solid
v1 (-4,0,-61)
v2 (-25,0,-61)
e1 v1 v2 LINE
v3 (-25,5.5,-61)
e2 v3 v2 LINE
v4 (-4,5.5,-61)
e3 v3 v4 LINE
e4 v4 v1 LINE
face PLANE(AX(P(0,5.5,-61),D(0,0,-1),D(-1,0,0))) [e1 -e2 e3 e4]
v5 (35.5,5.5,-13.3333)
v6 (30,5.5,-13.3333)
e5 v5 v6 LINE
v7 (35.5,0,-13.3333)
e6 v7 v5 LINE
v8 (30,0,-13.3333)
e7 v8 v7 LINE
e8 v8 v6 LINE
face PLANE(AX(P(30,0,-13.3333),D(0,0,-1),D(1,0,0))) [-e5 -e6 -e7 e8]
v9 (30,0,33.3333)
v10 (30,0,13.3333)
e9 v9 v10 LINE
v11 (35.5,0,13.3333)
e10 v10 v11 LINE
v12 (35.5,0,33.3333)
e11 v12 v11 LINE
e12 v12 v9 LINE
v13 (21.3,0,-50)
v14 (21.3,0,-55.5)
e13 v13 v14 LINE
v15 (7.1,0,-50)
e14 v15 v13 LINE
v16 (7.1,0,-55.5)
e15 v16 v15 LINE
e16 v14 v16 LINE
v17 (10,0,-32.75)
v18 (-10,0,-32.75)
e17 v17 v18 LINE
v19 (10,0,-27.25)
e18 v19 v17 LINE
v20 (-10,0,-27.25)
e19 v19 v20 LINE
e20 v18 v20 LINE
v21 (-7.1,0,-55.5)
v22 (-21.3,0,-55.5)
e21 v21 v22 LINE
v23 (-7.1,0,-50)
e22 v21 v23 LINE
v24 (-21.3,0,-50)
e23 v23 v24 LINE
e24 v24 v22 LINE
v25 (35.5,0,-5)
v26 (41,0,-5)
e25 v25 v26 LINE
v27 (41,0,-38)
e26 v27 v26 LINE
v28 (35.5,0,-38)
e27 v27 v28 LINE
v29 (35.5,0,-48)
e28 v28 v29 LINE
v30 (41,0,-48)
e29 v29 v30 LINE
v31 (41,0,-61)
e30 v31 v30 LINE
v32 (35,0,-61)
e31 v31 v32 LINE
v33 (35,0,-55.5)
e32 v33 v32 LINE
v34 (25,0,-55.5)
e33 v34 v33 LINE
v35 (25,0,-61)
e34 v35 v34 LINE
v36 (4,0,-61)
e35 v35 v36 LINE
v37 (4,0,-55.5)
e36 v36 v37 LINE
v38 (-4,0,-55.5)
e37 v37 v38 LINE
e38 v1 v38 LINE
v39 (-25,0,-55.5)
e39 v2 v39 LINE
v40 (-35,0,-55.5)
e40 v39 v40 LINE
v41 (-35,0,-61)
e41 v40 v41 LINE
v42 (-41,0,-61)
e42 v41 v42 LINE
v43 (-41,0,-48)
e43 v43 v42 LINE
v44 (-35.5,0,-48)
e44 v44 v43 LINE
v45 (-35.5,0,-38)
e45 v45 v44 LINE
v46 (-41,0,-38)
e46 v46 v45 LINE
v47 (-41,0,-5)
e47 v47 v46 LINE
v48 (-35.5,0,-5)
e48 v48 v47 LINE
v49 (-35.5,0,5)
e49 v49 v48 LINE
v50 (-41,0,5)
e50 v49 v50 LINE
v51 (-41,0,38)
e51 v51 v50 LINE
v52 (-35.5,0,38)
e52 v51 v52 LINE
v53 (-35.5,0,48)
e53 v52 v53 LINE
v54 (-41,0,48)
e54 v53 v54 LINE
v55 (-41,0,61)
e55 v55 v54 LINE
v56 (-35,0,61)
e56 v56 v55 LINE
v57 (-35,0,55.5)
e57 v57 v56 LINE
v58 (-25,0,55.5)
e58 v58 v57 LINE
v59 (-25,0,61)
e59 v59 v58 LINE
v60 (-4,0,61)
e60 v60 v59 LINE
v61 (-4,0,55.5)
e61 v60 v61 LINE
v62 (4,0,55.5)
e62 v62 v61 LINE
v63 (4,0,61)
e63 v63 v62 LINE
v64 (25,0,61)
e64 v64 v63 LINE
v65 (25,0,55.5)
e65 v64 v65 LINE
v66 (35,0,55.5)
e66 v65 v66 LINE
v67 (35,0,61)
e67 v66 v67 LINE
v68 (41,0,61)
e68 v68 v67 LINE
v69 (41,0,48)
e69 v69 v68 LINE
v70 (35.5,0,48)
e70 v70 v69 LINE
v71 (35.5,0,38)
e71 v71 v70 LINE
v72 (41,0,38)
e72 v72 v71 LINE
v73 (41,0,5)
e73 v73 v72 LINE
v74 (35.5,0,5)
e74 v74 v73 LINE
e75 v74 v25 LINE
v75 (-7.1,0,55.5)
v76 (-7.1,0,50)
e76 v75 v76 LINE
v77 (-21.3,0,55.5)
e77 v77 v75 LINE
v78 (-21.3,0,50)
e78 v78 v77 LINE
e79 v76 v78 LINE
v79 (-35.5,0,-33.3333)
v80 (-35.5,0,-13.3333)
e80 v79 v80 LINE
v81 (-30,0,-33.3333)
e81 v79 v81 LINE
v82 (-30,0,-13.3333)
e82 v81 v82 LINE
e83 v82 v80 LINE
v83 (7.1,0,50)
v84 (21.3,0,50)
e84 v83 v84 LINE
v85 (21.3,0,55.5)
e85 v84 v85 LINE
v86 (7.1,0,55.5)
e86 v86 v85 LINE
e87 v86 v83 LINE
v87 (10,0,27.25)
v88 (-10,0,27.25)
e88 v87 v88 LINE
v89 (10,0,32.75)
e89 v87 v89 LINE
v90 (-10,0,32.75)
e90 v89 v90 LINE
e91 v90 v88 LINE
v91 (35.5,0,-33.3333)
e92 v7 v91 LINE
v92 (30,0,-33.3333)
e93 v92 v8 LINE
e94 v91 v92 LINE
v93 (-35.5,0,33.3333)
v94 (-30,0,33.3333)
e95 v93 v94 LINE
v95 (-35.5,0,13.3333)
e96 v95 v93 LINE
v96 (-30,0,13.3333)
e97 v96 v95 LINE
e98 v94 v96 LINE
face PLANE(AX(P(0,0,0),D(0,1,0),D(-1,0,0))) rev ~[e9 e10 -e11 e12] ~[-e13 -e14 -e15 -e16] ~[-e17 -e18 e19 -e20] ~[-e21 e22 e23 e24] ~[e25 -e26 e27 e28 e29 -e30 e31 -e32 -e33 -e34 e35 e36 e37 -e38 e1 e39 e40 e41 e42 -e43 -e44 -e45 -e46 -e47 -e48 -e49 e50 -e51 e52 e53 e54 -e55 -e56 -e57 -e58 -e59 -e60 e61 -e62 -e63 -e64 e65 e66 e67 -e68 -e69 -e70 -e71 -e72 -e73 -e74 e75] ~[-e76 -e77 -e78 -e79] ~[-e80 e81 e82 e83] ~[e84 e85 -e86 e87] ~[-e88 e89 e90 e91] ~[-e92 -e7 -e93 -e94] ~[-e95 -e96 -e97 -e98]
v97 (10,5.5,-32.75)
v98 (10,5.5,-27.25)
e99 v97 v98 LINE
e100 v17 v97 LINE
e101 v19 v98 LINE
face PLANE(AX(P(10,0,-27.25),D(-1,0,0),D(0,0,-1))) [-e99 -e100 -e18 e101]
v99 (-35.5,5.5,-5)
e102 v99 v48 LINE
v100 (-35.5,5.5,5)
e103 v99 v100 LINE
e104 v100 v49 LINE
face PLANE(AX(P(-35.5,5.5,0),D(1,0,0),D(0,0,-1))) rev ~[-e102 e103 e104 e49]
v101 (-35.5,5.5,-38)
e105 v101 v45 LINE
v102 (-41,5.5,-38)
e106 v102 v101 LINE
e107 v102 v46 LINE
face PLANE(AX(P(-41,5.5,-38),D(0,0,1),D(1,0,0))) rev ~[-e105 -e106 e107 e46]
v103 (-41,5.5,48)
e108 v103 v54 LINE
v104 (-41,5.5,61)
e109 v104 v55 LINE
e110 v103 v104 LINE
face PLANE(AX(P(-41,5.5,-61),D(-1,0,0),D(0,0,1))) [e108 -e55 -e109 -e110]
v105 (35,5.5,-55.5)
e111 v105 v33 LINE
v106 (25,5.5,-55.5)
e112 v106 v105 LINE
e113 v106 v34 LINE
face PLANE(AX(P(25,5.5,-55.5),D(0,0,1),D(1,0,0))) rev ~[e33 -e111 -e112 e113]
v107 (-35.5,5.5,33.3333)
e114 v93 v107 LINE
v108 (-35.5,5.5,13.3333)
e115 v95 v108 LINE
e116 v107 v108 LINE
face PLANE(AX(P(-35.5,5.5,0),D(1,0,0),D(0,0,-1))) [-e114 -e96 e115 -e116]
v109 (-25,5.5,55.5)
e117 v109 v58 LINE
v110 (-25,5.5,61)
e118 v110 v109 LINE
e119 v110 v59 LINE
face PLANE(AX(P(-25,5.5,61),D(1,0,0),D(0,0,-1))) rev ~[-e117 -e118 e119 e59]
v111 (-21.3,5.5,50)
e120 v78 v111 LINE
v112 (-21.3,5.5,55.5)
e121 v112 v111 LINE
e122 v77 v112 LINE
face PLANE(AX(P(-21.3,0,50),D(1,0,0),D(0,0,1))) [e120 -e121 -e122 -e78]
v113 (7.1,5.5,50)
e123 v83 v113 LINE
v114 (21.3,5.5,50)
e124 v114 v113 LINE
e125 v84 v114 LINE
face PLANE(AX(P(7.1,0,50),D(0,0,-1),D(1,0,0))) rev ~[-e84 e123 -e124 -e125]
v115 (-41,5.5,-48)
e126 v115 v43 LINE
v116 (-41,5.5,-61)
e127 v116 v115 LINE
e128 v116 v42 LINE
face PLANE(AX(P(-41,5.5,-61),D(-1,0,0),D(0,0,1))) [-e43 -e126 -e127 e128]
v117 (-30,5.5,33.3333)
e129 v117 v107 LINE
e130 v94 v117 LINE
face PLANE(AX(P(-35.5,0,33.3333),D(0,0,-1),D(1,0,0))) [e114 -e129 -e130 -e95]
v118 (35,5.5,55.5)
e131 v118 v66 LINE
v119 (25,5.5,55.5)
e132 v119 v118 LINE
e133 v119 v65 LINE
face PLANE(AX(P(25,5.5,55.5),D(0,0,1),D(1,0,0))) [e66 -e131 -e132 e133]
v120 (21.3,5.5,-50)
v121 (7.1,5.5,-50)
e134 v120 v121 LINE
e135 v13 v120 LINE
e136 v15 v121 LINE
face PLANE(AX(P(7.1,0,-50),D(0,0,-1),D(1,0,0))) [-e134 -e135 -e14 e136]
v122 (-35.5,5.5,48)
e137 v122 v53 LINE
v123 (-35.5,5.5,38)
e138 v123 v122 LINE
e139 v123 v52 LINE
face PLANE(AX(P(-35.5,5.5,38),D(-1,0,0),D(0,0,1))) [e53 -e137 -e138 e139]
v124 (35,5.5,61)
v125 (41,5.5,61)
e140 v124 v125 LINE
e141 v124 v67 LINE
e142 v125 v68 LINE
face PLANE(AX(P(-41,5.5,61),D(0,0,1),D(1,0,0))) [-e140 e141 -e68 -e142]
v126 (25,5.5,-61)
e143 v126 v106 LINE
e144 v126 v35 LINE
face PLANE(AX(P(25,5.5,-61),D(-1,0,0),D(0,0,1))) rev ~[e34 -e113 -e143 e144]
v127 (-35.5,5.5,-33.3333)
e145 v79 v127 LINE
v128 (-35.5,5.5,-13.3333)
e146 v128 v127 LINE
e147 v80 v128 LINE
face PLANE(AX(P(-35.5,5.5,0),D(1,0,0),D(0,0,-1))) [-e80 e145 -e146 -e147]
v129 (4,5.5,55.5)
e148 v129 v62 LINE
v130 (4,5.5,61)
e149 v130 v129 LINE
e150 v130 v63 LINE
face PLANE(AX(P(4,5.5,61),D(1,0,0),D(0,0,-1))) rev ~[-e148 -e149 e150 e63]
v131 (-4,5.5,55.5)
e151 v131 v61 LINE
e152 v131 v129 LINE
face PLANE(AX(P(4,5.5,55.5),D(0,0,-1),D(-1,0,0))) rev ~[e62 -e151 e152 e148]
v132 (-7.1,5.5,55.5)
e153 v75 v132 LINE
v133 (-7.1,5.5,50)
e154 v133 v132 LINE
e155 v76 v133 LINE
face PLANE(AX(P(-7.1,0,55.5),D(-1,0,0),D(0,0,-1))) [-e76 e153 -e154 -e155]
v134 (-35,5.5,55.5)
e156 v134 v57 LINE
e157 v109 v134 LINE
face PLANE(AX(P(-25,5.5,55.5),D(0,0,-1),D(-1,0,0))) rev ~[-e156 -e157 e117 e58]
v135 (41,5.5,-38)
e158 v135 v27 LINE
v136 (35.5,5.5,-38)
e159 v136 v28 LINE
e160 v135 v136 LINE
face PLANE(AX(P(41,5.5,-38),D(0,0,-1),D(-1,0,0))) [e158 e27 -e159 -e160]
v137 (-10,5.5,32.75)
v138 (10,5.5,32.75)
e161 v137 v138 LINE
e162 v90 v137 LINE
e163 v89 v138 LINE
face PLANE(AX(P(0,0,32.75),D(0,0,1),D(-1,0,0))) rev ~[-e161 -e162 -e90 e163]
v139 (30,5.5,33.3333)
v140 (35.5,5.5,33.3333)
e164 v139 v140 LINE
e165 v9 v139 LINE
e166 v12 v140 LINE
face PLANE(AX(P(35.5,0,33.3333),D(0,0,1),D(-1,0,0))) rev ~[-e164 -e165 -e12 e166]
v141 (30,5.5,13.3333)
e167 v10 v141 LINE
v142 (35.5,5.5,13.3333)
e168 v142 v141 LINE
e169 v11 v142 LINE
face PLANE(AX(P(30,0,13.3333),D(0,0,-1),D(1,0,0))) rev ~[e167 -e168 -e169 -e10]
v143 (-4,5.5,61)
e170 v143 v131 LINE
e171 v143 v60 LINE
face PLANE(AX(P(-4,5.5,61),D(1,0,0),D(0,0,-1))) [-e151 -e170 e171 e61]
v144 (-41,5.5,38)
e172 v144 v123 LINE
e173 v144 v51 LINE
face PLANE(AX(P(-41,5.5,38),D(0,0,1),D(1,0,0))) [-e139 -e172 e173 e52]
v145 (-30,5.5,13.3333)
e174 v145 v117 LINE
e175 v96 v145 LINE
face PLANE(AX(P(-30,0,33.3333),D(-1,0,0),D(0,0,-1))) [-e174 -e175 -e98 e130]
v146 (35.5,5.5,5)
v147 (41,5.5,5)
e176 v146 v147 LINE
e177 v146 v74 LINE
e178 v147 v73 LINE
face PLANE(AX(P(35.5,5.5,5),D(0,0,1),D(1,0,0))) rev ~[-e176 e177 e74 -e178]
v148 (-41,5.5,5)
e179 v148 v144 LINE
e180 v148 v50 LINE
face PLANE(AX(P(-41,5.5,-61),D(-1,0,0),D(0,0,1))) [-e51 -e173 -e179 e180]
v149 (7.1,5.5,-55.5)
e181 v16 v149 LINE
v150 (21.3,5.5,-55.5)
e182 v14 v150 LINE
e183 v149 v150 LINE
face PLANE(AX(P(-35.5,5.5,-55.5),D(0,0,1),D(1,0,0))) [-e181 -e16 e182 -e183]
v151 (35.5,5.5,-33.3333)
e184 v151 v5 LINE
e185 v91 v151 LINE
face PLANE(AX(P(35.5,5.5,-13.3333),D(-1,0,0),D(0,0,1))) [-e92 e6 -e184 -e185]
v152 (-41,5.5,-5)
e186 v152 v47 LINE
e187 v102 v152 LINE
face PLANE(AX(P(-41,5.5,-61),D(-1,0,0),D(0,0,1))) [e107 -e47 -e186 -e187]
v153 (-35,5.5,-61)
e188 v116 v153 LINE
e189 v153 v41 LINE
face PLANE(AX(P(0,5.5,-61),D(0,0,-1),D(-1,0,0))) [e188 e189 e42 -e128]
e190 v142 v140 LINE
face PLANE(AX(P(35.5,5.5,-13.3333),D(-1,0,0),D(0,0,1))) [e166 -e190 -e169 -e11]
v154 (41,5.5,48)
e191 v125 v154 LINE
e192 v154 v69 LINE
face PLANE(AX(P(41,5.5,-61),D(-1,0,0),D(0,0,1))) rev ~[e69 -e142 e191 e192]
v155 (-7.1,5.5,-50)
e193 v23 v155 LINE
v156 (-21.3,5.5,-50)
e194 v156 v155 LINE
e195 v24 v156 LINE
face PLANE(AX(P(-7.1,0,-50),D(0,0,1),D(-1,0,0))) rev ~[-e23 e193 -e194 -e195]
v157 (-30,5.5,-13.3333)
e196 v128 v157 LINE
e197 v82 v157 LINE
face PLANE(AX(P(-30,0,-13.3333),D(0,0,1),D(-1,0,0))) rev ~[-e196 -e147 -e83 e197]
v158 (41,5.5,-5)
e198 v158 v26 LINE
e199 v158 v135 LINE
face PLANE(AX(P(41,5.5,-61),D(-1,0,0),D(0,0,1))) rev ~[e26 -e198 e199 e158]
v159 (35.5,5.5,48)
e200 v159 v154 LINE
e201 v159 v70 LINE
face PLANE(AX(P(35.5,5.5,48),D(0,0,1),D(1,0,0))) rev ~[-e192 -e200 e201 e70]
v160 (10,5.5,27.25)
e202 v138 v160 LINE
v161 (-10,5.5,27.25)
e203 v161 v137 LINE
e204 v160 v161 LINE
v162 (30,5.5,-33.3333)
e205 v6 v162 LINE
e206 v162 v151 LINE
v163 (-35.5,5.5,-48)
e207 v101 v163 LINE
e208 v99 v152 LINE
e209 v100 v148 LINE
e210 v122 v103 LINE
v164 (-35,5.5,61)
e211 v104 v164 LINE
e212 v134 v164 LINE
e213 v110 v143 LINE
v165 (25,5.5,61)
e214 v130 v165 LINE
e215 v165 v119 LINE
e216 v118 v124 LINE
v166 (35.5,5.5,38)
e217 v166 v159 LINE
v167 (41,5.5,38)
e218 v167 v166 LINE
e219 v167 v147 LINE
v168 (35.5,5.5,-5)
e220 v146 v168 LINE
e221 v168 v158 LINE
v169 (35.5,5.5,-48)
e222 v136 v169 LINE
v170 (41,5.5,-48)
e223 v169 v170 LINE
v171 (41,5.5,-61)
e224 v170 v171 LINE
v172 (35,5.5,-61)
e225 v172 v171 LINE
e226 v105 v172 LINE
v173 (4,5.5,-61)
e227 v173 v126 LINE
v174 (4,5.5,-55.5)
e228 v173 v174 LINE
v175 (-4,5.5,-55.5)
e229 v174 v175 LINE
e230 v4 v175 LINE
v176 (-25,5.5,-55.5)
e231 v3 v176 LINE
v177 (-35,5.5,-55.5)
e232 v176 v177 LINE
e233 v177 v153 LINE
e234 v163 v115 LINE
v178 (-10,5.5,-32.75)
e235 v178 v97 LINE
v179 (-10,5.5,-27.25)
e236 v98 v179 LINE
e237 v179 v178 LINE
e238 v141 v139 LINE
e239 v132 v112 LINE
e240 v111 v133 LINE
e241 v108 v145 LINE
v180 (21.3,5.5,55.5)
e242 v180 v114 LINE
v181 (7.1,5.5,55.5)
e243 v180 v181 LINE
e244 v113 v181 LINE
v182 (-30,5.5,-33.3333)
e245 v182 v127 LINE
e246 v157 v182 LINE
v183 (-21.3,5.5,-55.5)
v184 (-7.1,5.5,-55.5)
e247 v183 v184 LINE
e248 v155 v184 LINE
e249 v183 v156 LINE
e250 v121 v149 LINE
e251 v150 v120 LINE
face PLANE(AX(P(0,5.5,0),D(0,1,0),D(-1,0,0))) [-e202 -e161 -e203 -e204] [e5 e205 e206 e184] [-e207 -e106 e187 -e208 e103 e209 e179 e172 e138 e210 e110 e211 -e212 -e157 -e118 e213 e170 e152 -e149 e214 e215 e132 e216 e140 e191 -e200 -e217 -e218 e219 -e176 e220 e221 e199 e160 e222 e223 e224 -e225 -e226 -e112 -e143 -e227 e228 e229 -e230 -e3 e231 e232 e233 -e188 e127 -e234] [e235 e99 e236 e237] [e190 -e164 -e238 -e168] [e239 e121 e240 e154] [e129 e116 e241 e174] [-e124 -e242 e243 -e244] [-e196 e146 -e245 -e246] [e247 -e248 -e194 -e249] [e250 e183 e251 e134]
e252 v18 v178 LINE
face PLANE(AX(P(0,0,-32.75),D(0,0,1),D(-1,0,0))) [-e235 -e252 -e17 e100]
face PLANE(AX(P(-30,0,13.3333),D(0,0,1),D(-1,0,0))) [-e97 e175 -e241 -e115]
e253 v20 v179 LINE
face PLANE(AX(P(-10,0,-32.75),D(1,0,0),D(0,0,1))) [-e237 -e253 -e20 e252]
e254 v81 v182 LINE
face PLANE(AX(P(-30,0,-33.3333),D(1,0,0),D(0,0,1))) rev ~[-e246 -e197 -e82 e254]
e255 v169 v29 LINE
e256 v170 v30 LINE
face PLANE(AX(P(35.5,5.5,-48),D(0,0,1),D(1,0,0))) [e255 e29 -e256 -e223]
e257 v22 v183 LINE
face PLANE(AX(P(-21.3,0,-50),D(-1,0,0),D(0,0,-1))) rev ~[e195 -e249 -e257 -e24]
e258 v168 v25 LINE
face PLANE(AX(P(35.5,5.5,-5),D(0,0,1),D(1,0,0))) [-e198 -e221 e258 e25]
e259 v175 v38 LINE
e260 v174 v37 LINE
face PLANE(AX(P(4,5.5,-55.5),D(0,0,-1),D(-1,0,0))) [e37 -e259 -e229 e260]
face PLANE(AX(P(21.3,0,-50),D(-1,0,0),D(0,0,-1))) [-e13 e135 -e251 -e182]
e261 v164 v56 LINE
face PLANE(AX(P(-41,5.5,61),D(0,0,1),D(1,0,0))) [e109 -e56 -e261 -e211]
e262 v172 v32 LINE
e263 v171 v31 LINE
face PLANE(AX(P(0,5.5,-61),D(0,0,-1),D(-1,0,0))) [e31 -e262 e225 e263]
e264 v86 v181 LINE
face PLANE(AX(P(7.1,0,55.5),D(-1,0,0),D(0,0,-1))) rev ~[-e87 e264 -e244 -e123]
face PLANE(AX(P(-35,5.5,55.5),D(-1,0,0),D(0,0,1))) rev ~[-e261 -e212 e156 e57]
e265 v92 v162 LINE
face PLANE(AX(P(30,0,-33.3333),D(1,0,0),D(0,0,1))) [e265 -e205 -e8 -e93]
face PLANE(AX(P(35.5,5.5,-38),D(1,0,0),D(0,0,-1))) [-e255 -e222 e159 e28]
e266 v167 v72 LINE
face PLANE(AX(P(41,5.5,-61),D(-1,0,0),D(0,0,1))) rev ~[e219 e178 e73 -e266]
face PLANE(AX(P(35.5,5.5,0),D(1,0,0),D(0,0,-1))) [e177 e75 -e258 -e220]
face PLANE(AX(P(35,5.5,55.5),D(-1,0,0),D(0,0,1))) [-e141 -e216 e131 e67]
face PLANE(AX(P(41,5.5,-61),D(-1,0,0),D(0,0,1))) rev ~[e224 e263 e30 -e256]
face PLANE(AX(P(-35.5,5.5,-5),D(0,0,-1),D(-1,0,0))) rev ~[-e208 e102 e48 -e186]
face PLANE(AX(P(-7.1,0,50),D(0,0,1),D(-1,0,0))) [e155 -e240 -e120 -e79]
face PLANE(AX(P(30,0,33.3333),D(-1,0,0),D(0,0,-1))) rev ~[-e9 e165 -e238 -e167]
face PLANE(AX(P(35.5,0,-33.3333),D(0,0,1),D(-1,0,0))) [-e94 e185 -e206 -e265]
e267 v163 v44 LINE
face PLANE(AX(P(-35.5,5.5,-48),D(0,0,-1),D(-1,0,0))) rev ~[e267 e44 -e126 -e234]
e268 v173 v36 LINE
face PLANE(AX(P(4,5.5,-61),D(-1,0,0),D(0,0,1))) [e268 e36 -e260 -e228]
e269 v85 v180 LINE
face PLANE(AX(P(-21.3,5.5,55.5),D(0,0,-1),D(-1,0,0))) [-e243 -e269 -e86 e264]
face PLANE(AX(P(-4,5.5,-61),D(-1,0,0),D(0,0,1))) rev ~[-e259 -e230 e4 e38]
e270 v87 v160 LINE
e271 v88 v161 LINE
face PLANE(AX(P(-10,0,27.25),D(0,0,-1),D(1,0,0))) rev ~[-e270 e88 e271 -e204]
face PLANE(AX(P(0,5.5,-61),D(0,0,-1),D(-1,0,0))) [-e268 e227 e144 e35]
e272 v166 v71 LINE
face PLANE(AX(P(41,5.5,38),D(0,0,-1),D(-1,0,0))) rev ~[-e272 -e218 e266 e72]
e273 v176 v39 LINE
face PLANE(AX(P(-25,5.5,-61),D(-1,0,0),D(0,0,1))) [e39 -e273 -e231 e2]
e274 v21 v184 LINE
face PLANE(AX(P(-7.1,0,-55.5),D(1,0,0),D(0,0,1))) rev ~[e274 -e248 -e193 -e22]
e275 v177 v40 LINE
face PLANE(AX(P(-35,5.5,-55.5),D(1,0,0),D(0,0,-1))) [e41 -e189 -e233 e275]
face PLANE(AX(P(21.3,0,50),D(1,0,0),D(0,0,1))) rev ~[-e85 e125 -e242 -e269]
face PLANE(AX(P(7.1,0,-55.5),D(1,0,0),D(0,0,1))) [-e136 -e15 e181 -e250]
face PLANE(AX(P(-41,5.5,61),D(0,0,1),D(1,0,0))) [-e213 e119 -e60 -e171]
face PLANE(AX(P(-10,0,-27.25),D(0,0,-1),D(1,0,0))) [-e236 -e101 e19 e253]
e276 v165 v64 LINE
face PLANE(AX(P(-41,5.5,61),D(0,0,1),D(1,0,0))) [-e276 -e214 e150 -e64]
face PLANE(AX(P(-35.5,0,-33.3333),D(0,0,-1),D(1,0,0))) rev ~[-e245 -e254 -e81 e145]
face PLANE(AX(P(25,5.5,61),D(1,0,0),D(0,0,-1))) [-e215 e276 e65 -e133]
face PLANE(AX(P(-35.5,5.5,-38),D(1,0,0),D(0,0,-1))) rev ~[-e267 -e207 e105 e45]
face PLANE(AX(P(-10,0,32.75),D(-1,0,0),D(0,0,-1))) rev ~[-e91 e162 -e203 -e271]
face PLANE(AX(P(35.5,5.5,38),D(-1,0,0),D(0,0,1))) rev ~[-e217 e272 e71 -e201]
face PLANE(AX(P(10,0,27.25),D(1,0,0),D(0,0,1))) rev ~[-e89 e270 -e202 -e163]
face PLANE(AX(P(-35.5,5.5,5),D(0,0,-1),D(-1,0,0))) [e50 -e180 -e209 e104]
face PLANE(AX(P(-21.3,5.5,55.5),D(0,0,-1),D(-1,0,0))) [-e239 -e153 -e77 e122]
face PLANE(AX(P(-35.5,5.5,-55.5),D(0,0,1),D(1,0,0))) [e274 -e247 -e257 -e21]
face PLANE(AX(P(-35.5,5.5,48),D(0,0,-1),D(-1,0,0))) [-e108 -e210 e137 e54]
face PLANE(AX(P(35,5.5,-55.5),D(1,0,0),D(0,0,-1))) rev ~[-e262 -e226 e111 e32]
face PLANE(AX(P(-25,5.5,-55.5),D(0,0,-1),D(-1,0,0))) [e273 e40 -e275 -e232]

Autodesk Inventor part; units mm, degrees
ref_plane "YZ Plane" through (0, 0, 0) normal (1, 0, 0) x (0, 1, 0)
ref_plane "XZ Plane" through (0, 0, 0) normal (0, 1, 0) x (-1, 0, 0)
ref_plane "XY Plane" through (0, 0, 0) normal (0, 0, 1) x (1, 0, 0)
sketch "Block1" plane through (0, 0, 0) normal (0, 0, 1) x (1, 0, 0)
  line L0 (-50, 9) -> (-39, 9)
  line L1 (-39, 9) -> (-39, 4)
  line L2 (-39, 4) -> (-50, 4)
  line L3 (-50, 4) -> (-50, 9)
  line L4 (-39, -9) -> (-39, -4)
  line L5 (-50, -9) -> (-39, -9)
  line L6 (-50, -4) -> (-50, -9)
  line L7 (-39, -4) -> (-50, -4)
  line L8 (-39, 46) -> (-39, 41)
  line L9 (-50, 46) -> (-39, 46)
  line L10 (-50, 41) -> (-50, 46)
  line L11 (-39, 41) -> (-50, 41)
  line L12 (-39, -46) -> (-39, -41)
  line L13 (-50, -46) -> (-39, -46)
  line L14 (-50, -41) -> (-50, -46)
  line L15 (-39, -41) -> (-50, -41)
  point P0 (-44.5, 0)
  dimension "d59" = 11
  dimension "d60" = 5
  dimension "d62" = 11
  dimension "d63" = 5
sketch "Block2" plane through (0, 0, 0) normal (0, 0, 1) x (1, 0, 0)
  line L0 (-7.9, 59.1) -> (7.9, 59.1)
  line L1 (7.9, 59.1) -> (7.9, 50.1)
  line L2 (7.9, 50.1) -> (23.3, 50.1)
  line L3 (23.3, 50.1) -> (23.3, 59.1)
  line L4 (23.3, 59.1) -> (39.1, 59.1)
  line L5 (39.1, 59.1) -> (39.1, 50.1)
  line L6 (39.1, 50.1) -> (50.1, 50.1)
  line L7 (50.1, 50.1) -> (50.1, 41.9)
  line L8 (50.1, 41.9) -> (41.1, 41.9)
  line L9 (41.1, 41.9) -> (41.1, 36.1)
  line L10 (41.1, 36.1) -> (50.1, 36.1)
  line L11 (50.1, 36.1) -> (50.1, 12.9)
  line L12 (50.1, 12.9) -> (41.1, 12.9)
  line L13 (41.1, 12.9) -> (41.1, 7.1)
  line L14 (41.1, 7.1) -> (50.1, 7.1)
  line L15 (50.1, 7.1) -> (50.1, -7.1)
  line L16 (50.1, -7.1) -> (41.1, -7.1)
  line L17 (41.1, -7.1) -> (41.1, -12.9)
  line L18 (41.1, -12.9) -> (50.1, -12.9)
  line L19 (50.1, -12.9) -> (50.1, -36.1)
  line L20 (50.1, -36.1) -> (41.1, -36.1)
  line L21 (41.1, -36.1) -> (41.1, -41.9)
  line L22 (41.1, -41.9) -> (50.1, -41.9)
  line L23 (50.1, -41.9) -> (50.1, -50.1)
  line L24 (50.1, -50.1) -> (39.1, -50.1)
  line L25 (39.1, -50.1) -> (39.1, -59.1)
  line L26 (39.1, -59.1) -> (23.3, -59.1)
  line L27 (23.3, -59.1) -> (23.3, -50.1)
  line L28 (23.3, -50.1) -> (7.9, -50.1)
  line L29 (7.9, -50.1) -> (7.9, -59.1)
  line L30 (7.9, -59.1) -> (-7.9, -59.1)
  line L31 (-7.9, -59.1) -> (-7.9, -50.1)
  line L32 (-7.9, -50.1) -> (-23.3, -50.1)
  line L33 (-23.3, -50.1) -> (-23.3, -59.1)
  line L34 (-23.3, -59.1) -> (-39.1, -59.1)
  line L35 (-39.1, -59.1) -> (-39.1, -50.1)
  line L36 (-39.1, -50.1) -> (-50.1, -50.1)
  line L37 (-50.1, -50.1) -> (-50.1, -41.9)
  line L38 (-50.1, -41.9) -> (-41.1, -41.9)
  line L39 (-41.1, -41.9) -> (-41.1, -36.1)
  line L40 (-41.1, -36.1) -> (-50.1, -36.1)
  line L41 (-50.1, -36.1) -> (-50.1, -12.9)
  line L42 (-50.1, -12.9) -> (-41.1, -12.9)
  line L43 (-41.1, -12.9) -> (-41.1, -7.1)
  line L44 (-41.1, -7.1) -> (-50.1, -7.1)
  line L45 (-50.1, -7.1) -> (-50.1, 7.1)
  line L46 (-50.1, 7.1) -> (-41.1, 7.1)
  line L47 (-41.1, 7.1) -> (-41.1, 12.9)
  line L48 (-41.1, 12.9) -> (-50.1, 12.9)
  line L49 (-50.1, 12.9) -> (-50.1, 36.1)
  line L50 (-50.1, 36.1) -> (-41.1, 36.1)
  line L51 (-41.1, 36.1) -> (-41.1, 41.9)
  line L52 (-41.1, 41.9) -> (-50.1, 41.9)
  line L53 (-50.1, 41.9) -> (-50.1, 50.1)
  line L54 (-50.1, 50.1) -> (-39.1, 50.1)
  line L55 (-39.1, 50.1) -> (-39.1, 59.1)
  line L56 (-39.1, 59.1) -> (-23.3, 59.1)
  line L57 (-23.3, 59.1) -> (-23.3, 50.1)
  line L58 (-23.3, 50.1) -> (-7.9, 50.1)
  line L59 (-7.9, 50.1) -> (-7.9, 59.1)
  line L60 (-29.9, 33.4333) -> (-39.1, 33.4333)
  line L61 (-39.1, 33.4333) -> (-39.1, 13.2333)
  line L62 (-39.1, 13.2333) -> (-29.9, 13.2333)
  line L63 (-29.9, 13.2333) -> (-29.9, 33.4333)
  line L64 (-29.9, -13.2333) -> (-39.1, -13.2333)
  line L65 (-39.1, -13.2333) -> (-39.1, -33.4333)
  line L66 (-39.1, -33.4333) -> (-29.9, -33.4333)
  line L67 (-29.9, -33.4333) -> (-29.9, -13.2333)
  line L68 (39.1, 33.4333) -> (39.1, 13.2333)
  line L69 (39.1, 13.2333) -> (29.9, 13.2333)
  line L70 (29.9, 13.2333) -> (29.9, 33.4333)
  line L71 (29.9, 33.4333) -> (39.1, 33.4333)
  line L72 (39.1, -13.2333) -> (29.9, -13.2333)
  line L73 (29.9, -13.2333) -> (29.9, -33.4333)
  line L74 (29.9, -33.4333) -> (39.1, -33.4333)
  line L75 (39.1, -33.4333) -> (39.1, -13.2333)
  point P0 (0, 0)
sketch "Block3" plane through (0, 0, 0) normal (0, 0, 1) x (1, 0, 0)
  line L0 (23.2, 59.2) -> (39.2, 59.2)
  line L1 (39.2, 59.2) -> (39.2, 50.2)
  line L2 (39.2, 50.2) -> (50.2, 50.2)
  line L3 (50.2, 50.2) -> (50.2, 41.8)
  line L4 (50.2, 41.8) -> (41.2, 41.8)
  line L5 (41.2, 41.8) -> (41.2, 36.2)
  line L6 (41.2, 36.2) -> (50.2, 36.2)
  line L7 (50.2, 36.2) -> (50.2, 12.8)
  line L8 (50.2, 12.8) -> (41.2, 12.8)
  line L9 (41.2, 12.8) -> (41.2, 7.2)
  line L10 (41.2, 7.2) -> (50.2, 7.2)
  line L11 (50.2, 7.2) -> (50.2, -7.2)
  line L12 (50.2, -7.2) -> (41.2, -7.2)
  line L13 (41.2, -7.2) -> (41.2, -12.8)
  line L14 (41.2, -12.8) -> (50.2, -12.8)
  line L15 (50.2, -12.8) -> (50.2, -36.2)
  line L16 (50.2, -36.2) -> (41.2, -36.2)
  line L17 (41.2, -36.2) -> (41.2, -41.8)
  line L18 (41.2, -41.8) -> (50.2, -41.8)
  line L19 (50.2, -41.8) -> (50.2, -50.2)
  line L20 (50.2, -50.2) -> (39.2, -50.2)
  line L21 (39.2, -50.2) -> (39.2, -59.2)
  line L22 (39.2, -59.2) -> (23.2, -59.2)
  line L23 (23.2, -59.2) -> (23.2, -50.2)
  line L24 (23.2, -50.2) -> (8, -50.2)
  line L25 (8, -50.2) -> (8, -59.2)
  line L26 (8, -59.2) -> (-8, -59.2)
  line L27 (-8, -59.2) -> (-8, -50.2)
  line L28 (-8, -50.2) -> (-23.2, -50.2)
  line L29 (-23.2, -50.2) -> (-23.2, -59.2)
  line L30 (-23.2, -59.2) -> (-39.2, -59.2)
  line L31 (-39.2, -59.2) -> (-39.2, -50.2)
  line L32 (-39.2, -50.2) -> (-50.2, -50.2)
  line L33 (-50.2, -50.2) -> (-50.2, -41.8)
  line L34 (-50.2, -41.8) -> (-41.2, -41.8)
  line L35 (-41.2, -41.8) -> (-41.2, -36.2)
  line L36 (-41.2, -36.2) -> (-50.2, -36.2)
  line L37 (-50.2, -36.2) -> (-50.2, -12.8)
  line L38 (-50.2, -12.8) -> (-41.2, -12.8)
  line L39 (-41.2, -12.8) -> (-41.2, -7.2)
  line L40 (-41.2, -7.2) -> (-50.2, -7.2)
  line L41 (-50.2, -7.2) -> (-50.2, 7.2)
  line L42 (-50.2, 7.2) -> (-41.2, 7.2)
  line L43 (-41.2, 7.2) -> (-41.2, 12.8)
  line L44 (-41.2, 12.8) -> (-50.2, 12.8)
  line L45 (-50.2, 12.8) -> (-50.2, 36.2)
  line L46 (-50.2, 36.2) -> (-41.2, 36.2)
  line L47 (-41.2, 36.2) -> (-41.2, 41.8)
  line L48 (-41.2, 41.8) -> (-50.2, 41.8)
  line L49 (-50.2, 41.8) -> (-50.2, 50.2)
  line L50 (-50.2, 50.2) -> (-39.2, 50.2)
  line L51 (-39.2, 50.2) -> (-39.2, 59.2)
  line L52 (-39.2, 59.2) -> (-23.2, 59.2)
  line L53 (-23.2, 59.2) -> (-23.2, 50.2)
  line L54 (-23.2, 50.2) -> (-8, 50.2)
  line L55 (-8, 50.2) -> (-8, 59.2)
  line L56 (-8, 59.2) -> (8, 59.2)
  line L57 (8, 59.2) -> (8, 50.2)
  line L58 (8, 50.2) -> (23.2, 50.2)
  line L59 (23.2, 50.2) -> (23.2, 59.2)
  line L60 (-29.8, 33.5333) -> (-39.2, 33.5333)
  line L61 (-39.2, 33.5333) -> (-39.2, 13.1333)
  line L62 (-39.2, 13.1333) -> (-29.8, 13.1333)
  line L63 (-29.8, 13.1333) -> (-29.8, 33.5333)
  line L64 (-29.8, -13.1333) -> (-39.2, -13.1333)
  line L65 (-39.2, -13.1333) -> (-39.2, -33.5333)
  line L66 (-39.2, -33.5333) -> (-29.8, -33.5333)
  line L67 (-29.8, -33.5333) -> (-29.8, -13.1333)
  line L68 (39.2, 33.5333) -> (39.2, 13.1333)
  line L69 (39.2, 13.1333) -> (29.8, 13.1333)
  line L70 (29.8, 13.1333) -> (29.8, 33.5333)
  line L71 (29.8, 33.5333) -> (39.2, 33.5333)
  line L72 (39.2, -13.1333) -> (29.8, -13.1333)
  line L73 (29.8, -13.1333) -> (29.8, -33.5333)
  line L74 (29.8, -33.5333) -> (39.2, -33.5333)
  line L75 (39.2, -33.5333) -> (39.2, -13.1333)
  point P0 (0, 0)
sketch "Block4" plane through (0, 0, 0) normal (0, 0, 1) x (1, 0, 0)
  line L0 (23.3, 59.1) -> (39.1, 59.1)
  line L1 (39.1, 59.1) -> (39.1, 50.1)
  line L2 (39.1, 50.1) -> (50.1, 50.1)
  line L3 (50.1, 50.1) -> (50.1, 41.9)
  line L4 (50.1, 41.9) -> (41.1, 41.9)
  line L5 (41.1, 41.9) -> (41.1, 36.1)
  line L6 (41.1, 36.1) -> (50.1, 36.1)
  line L7 (50.1, 36.1) -> (50.1, 12.9)
  line L8 (50.1, 12.9) -> (41.1, 12.9)
  line L9 (41.1, 12.9) -> (41.1, 7.1)
  line L10 (41.1, 7.1) -> (50.1, 7.1)
  line L11 (50.1, 7.1) -> (50.1, -7.1)
  line L12 (50.1, -7.1) -> (41.1, -7.1)
  line L13 (41.1, -7.1) -> (41.1, -12.9)
  line L14 (41.1, -12.9) -> (50.1, -12.9)
  line L15 (50.1, -12.9) -> (50.1, -36.1)
  line L16 (50.1, -36.1) -> (41.1, -36.1)
  line L17 (41.1, -36.1) -> (41.1, -41.9)
  line L18 (41.1, -41.9) -> (50.1, -41.9)
  line L19 (50.1, -41.9) -> (50.1, -50.1)
  line L20 (50.1, -50.1) -> (39.1, -50.1)
  line L21 (39.1, -50.1) -> (39.1, -59.1)
  line L22 (39.1, -59.1) -> (23.3, -59.1)
  line L23 (23.3, -59.1) -> (23.3, -50.1)
  line L24 (23.3, -50.1) -> (7.9, -50.1)
  line L25 (7.9, -50.1) -> (7.9, -59.1)
  line L26 (7.9, -59.1) -> (-7.9, -59.1)
  line L27 (-7.9, -59.1) -> (-7.9, -50.1)
  line L28 (-7.9, -50.1) -> (-23.3, -50.1)
  line L29 (-23.3, -50.1) -> (-23.3, -59.1)
  line L30 (-23.3, -59.1) -> (-39.1, -59.1)
  line L31 (-39.1, -59.1) -> (-39.1, -50.1)
  line L32 (-39.1, -50.1) -> (-50.1, -50.1)
  line L33 (-50.1, -50.1) -> (-50.1, -41.9)
  line L34 (-50.1, -41.9) -> (-41.1, -41.9)
  line L35 (-41.1, -41.9) -> (-41.1, -36.1)
  line L36 (-41.1, -36.1) -> (-50.1, -36.1)
  line L37 (-50.1, -36.1) -> (-50.1, -12.9)
  line L38 (-50.1, -12.9) -> (-41.1, -12.9)
  line L39 (-41.1, -12.9) -> (-41.1, -7.1)
  line L40 (-41.1, -7.1) -> (-50.1, -7.1)
  line L41 (-50.1, -7.1) -> (-50.1, 7.1)
  line L42 (-50.1, 7.1) -> (-41.1, 7.1)
  line L43 (-41.1, 7.1) -> (-41.1, 12.9)
  line L44 (-41.1, 12.9) -> (-50.1, 12.9)
  line L45 (-50.1, 12.9) -> (-50.1, 36.1)
  line L46 (-50.1, 36.1) -> (-41.1, 36.1)
  line L47 (-41.1, 36.1) -> (-41.1, 41.9)
  line L48 (-41.1, 41.9) -> (-50.1, 41.9)
  line L49 (-50.1, 41.9) -> (-50.1, 50.1)
  line L50 (-50.1, 50.1) -> (-39.1, 50.1)
  line L51 (-39.1, 50.1) -> (-39.1, 59.1)
  line L52 (-39.1, 59.1) -> (-23.3, 59.1)
  line L53 (-23.3, 59.1) -> (-23.3, 50.1)
  line L54 (-23.3, 50.1) -> (-7.9, 50.1)
  line L55 (-7.9, 50.1) -> (-7.9, 59.1)
  line L56 (-7.9, 59.1) -> (7.9, 59.1)
  line L57 (7.9, 59.1) -> (7.9, 50.1)
  line L58 (7.9, 50.1) -> (23.3, 50.1)
  line L59 (23.3, 50.1) -> (23.3, 59.1)
  line L60 (-29.9, 33.4333) -> (-39.1, 33.4333)
  line L61 (-39.1, 33.4333) -> (-39.1, 13.2333)
  line L62 (-39.1, 13.2333) -> (-29.9, 13.2333)
  line L63 (-29.9, 13.2333) -> (-29.9, 33.4333)
  line L64 (-29.9, -13.2333) -> (-39.1, -13.2333)
  line L65 (-39.1, -13.2333) -> (-39.1, -33.4333)
  line L66 (-39.1, -33.4333) -> (-29.9, -33.4333)
  line L67 (-29.9, -33.4333) -> (-29.9, -13.2333)
  line L68 (39.1, 33.4333) -> (39.1, 13.2333)
  line L69 (39.1, 13.2333) -> (29.9, 13.2333)
  line L70 (29.9, 13.2333) -> (29.9, 33.4333)
  line L71 (29.9, 33.4333) -> (39.1, 33.4333)
  line L72 (39.1, -13.2333) -> (29.9, -13.2333)
  line L73 (29.9, -13.2333) -> (29.9, -33.4333)
  line L74 (29.9, -33.4333) -> (39.1, -33.4333)
  line L75 (39.1, -33.4333) -> (39.1, -13.2333)
  point P0 (0, 0)
sketch "Block5" plane through (0, 0, 0) normal (0, 0, 1) x (1, 0, 0)
  line L0 (-7.18, 55.58) -> (7.18, 55.58)
  line L1 (7.18, 55.58) -> (7.18, 50.08)
  line L2 (7.18, 50.08) -> (21.22, 50.08)
  line L3 (21.22, 50.08) -> (21.22, 55.58)
  line L4 (21.22, 55.58) -> (35.58, 55.58)
  line L5 (35.58, 55.58) -> (35.58, 53.58)
  line L6 (35.58, 53.58) -> (46.58, 53.58)
  line L7 (46.58, 53.58) -> (46.58, 38.42)
  line L8 (46.58, 38.42) -> (41.08, 38.42)
  line L9 (41.08, 38.42) -> (41.08, 32.58)
  line L10 (41.08, 32.58) -> (46.58, 32.58)
  line L11 (46.58, 32.58) -> (46.58, 12.92)
  line L12 (46.58, 12.92) -> (41.08, 12.92)
  line L13 (41.08, 12.92) -> (41.08, 7.08)
  line L14 (41.08, 7.08) -> (46.58, 7.08)
  line L15 (46.58, 7.08) -> (46.58, -7.08)
  line L16 (46.58, -7.08) -> (41.08, -7.08)
  line L17 (41.08, -7.08) -> (41.08, -12.92)
  line L18 (41.08, -12.92) -> (46.58, -12.92)
  line L19 (46.58, -12.92) -> (46.58, -32.58)
  line L20 (46.58, -32.58) -> (41.08, -32.58)
  line L21 (41.08, -32.58) -> (41.08, -38.42)
  line L22 (41.08, -38.42) -> (46.58, -38.42)
  line L23 (46.58, -38.42) -> (46.58, -46.58)
  line L24 (46.58, -46.58) -> (35.58, -46.58)
  line L25 (35.58, -46.58) -> (35.58, -55.58)
  line L26 (35.58, -55.58) -> (21.22, -55.58)
  line L27 (21.22, -55.58) -> (21.22, -50.08)
  line L28 (21.22, -50.08) -> (7.18, -50.08)
  line L29 (7.18, -50.08) -> (7.18, -55.58)
  line L30 (7.18, -55.58) -> (-7.18, -55.58)
  line L31 (-7.18, -55.58) -> (-7.18, -50.08)
  line L32 (-7.18, -50.08) -> (-21.22, -50.08)
  line L33 (-21.22, -50.08) -> (-21.22, -55.58)
  line L34 (-21.22, -55.58) -> (-35.58, -55.58)
  line L35 (-35.58, -55.58) -> (-35.58, -46.58)
  line L36 (-35.58, -46.58) -> (-46.58, -46.58)
  line L37 (-46.58, -46.58) -> (-46.58, -38.42)
  line L38 (-46.58, -38.42) -> (-41.08, -38.42)
  line L39 (-41.08, -38.42) -> (-41.08, -32.58)
  line L40 (-41.08, -32.58) -> (-46.58, -32.58)
  line L41 (-46.58, -32.58) -> (-46.58, -12.92)
  line L42 (-46.58, -12.92) -> (-41.08, -12.92)
  line L43 (-41.08, -12.92) -> (-41.08, -7.08)
  line L44 (-41.08, -7.08) -> (-46.58, -7.08)
  line L45 (-46.58, -7.08) -> (-46.58, 7.08)
  line L46 (-46.58, 7.08) -> (-41.08, 7.08)
  line L47 (-41.08, 7.08) -> (-41.08, 12.92)
  line L48 (-41.08, 12.92) -> (-46.58, 12.92)
  line L49 (-46.58, 12.92) -> (-46.58, 32.58)
  line L50 (-46.58, 32.58) -> (-41.08, 32.58)
  line L51 (-41.08, 32.58) -> (-41.08, 38.42)
  line L52 (-41.08, 38.42) -> (-46.58, 38.42)
  line L53 (-46.58, 38.42) -> (-46.58, 53.58)
  line L54 (-46.58, 53.58) -> (-35.58, 53.58)
  line L55 (-35.58, 53.58) -> (-35.58, 55.58)
  line L56 (-35.58, 55.58) -> (-21.22, 55.58)
  line L57 (-21.22, 55.58) -> (-21.22, 50.08)
  line L58 (-21.22, 50.08) -> (-7.18, 50.08)
  line L59 (-7.18, 50.08) -> (-7.18, 55.58)
  line L60 (-29.92, 33.4133) -> (-35.58, 33.4133)
  line L61 (-35.58, 33.4133) -> (-35.58, 13.2533)
  line L62 (-35.58, 13.2533) -> (-29.92, 13.2533)
  line L63 (-29.92, 13.2533) -> (-29.92, 33.4133)
  line L64 (-29.92, -13.2533) -> (-35.58, -13.2533)
  line L65 (-35.58, -13.2533) -> (-35.58, -33.4133)
  line L66 (-35.58, -33.4133) -> (-29.92, -33.4133)
  line L67 (-29.92, -33.4133) -> (-29.92, -13.2533)
  line L68 (35.58, 33.4133) -> (35.58, 13.2533)
  line L69 (35.58, 13.2533) -> (29.92, 13.2533)
  line L70 (29.92, 13.2533) -> (29.92, 33.4133)
  line L71 (29.92, 33.4133) -> (35.58, 33.4133)
  line L72 (35.58, -13.2533) -> (29.92, -13.2533)
  line L73 (29.92, -13.2533) -> (29.92, -33.4133)
  line L74 (29.92, -33.4133) -> (35.58, -33.4133)
  line L75 (35.58, -33.4133) -> (35.58, -13.2533)
  point P0 (0, 0.3684)
sketch "Block6" plane through (0, 0, 0) normal (0, 0, 1) x (1, 0, 0)
  line L0 (-35.58, 55.58) -> (-21.22, 55.58)
  line L1 (-21.22, 55.58) -> (-21.22, 50.08)
  line L2 (-21.22, 50.08) -> (-7.18, 50.08)
  line L3 (-7.18, 50.08) -> (-7.18, 55.58)
  line L4 (-7.18, 55.58) -> (7.18, 55.58)
  line L5 (7.18, 55.58) -> (7.18, 50.08)
  line L6 (7.18, 50.08) -> (21.22, 50.08)
  line L7 (21.22, 50.08) -> (21.22, 55.58)
  line L8 (21.22, 55.58) -> (35.58, 55.58)
  line L9 (35.58, 55.58) -> (35.58, 53.58)
  line L10 (35.58, 53.58) -> (50.08, 53.58)
  line L11 (50.08, 53.58) -> (50.08, 37.92)
  line L12 (50.08, 37.92) -> (44.58, 37.92)
  line L13 (44.58, 37.92) -> (44.58, 32.08)
  line L14 (44.58, 32.08) -> (50.08, 32.08)
  line L15 (50.08, 32.08) -> (50.08, 12.92)
  line L16 (50.08, 12.92) -> (44.58, 12.92)
  line L17 (44.58, 12.92) -> (44.58, 7.08)
  line L18 (44.58, 7.08) -> (50.08, 7.08)
  line L19 (50.08, 7.08) -> (50.08, -7.08)
  line L20 (50.08, -7.08) -> (44.58, -7.08)
  line L21 (44.58, -7.08) -> (44.58, -12.92)
  line L22 (44.58, -12.92) -> (50.08, -12.92)
  line L23 (50.08, -12.92) -> (50.08, -32.08)
  line L24 (50.08, -32.08) -> (44.58, -32.08)
  line L25 (44.58, -32.08) -> (44.58, -37.92)
  line L26 (44.58, -37.92) -> (50.08, -37.92)
  line L27 (50.08, -37.92) -> (50.08, -46.58)
  line L28 (50.08, -46.58) -> (35.58, -46.58)
  line L29 (35.58, -46.58) -> (35.58, -55.58)
  line L30 (35.58, -55.58) -> (21.22, -55.58)
  line L31 (21.22, -55.58) -> (21.22, -50.08)
  line L32 (21.22, -50.08) -> (7.18, -50.08)
  line L33 (7.18, -50.08) -> (7.18, -55.58)
  line L34 (7.18, -55.58) -> (-7.18, -55.58)
  line L35 (-7.18, -55.58) -> (-7.18, -50.08)
  line L36 (-7.18, -50.08) -> (-21.22, -50.08)
  line L37 (-21.22, -50.08) -> (-21.22, -55.58)
  line L38 (-21.22, -55.58) -> (-35.58, -55.58)
  line L39 (-35.58, -55.58) -> (-35.58, -46.58)
  line L40 (-35.58, -46.58) -> (-50.08, -46.58)
  line L41 (-50.08, -46.58) -> (-50.08, -37.92)
  line L42 (-50.08, -37.92) -> (-44.58, -37.92)
  line L43 (-44.58, -37.92) -> (-44.58, -32.08)
  line L44 (-44.58, -32.08) -> (-50.08, -32.08)
  line L45 (-50.08, -32.08) -> (-50.08, -12.92)
  line L46 (-50.08, -12.92) -> (-44.58, -12.92)
  line L47 (-44.58, -12.92) -> (-44.58, -7.08)
  line L48 (-44.58, -7.08) -> (-50.08, -7.08)
  line L49 (-50.08, -7.08) -> (-50.08, 7.08)
  line L50 (-50.08, 7.08) -> (-44.58, 7.08)
  line L51 (-44.58, 7.08) -> (-44.58, 12.92)
  line L52 (-44.58, 12.92) -> (-50.08, 12.92)
  line L53 (-50.08, 12.92) -> (-50.08, 32.08)
  line L54 (-50.08, 32.08) -> (-44.58, 32.08)
  line L55 (-44.58, 32.08) -> (-44.58, 37.92)
  line L56 (-44.58, 37.92) -> (-50.08, 37.92)
  line L57 (-50.08, 37.92) -> (-50.08, 53.58)
  line L58 (-50.08, 53.58) -> (-35.58, 53.58)
  line L59 (-35.58, 53.58) -> (-35.58, 55.58)
  line L60 (-29.92, 33.4133) -> (-35.58, 33.4133)
  line L61 (-35.58, 33.4133) -> (-35.58, 13.2533)
  line L62 (-35.58, 13.2533) -> (-29.92, 13.2533)
  line L63 (-29.92, 13.2533) -> (-29.92, 33.4133)
  line L64 (-29.92, -13.2533) -> (-35.58, -13.2533)
  line L65 (-35.58, -13.2533) -> (-35.58, -33.4133)
  line L66 (-35.58, -33.4133) -> (-29.92, -33.4133)
  line L67 (-29.92, -33.4133) -> (-29.92, -13.2533)
  line L68 (35.58, 33.4133) -> (35.58, 13.2533)
  line L69 (35.58, 13.2533) -> (29.92, 13.2533)
  line L70 (29.92, 13.2533) -> (29.92, 33.4133)
  line L71 (29.92, 33.4133) -> (35.58, 33.4133)
  line L72 (35.58, -13.2533) -> (29.92, -13.2533)
  line L73 (29.92, -13.2533) -> (29.92, -33.4133)
  line L74 (29.92, -33.4133) -> (35.58, -33.4133)
  line L75 (35.58, -33.4133) -> (35.58, -13.2533)
  point P0 (0, 0.3684)
sketch "Sketch1" plane through (0, 0, 0) normal (0, 1, 0) x (-1, 0, 0)
  line L0 (35.5, -55.5) -> (-35.5, -55.5)
  line L1 (-35.5, -55.5) -> (-35.5, 55.5)
  line L2 (-35.5, 55.5) -> (35.5, 55.5)
  line L3 (35.5, 55.5) -> (35.5, -55.5)
  line L4 (35.5, -55.5) -> (-35.5, 55.5) construction
  line L5 (-35.5, -55.5) -> (35.5, 55.5) construction
  line L6 (0, -83.4858) -> (0, 82.8643) projected
  line L7 (94.3775, 0) -> (-215.5652, 0) projected
  point P0 (0, 0)
  point P1 (0, 0)
  point P2 (-20, 40)
  point P3 (20, 40)
  point P4 (-20, -40)
  point P5 (20, -40)
  dimension "d0" = 71
  dimension "d1" = 111
  dimension "d22" = 40
  dimension "d23" = 80
extrude "Extrusion1" add sketch "Sketch1" along normal blind 5.5
sketch "Sketch6" plane through (0, 0, 0) normal (0, -1, 0) x (1, 0, 0)
  line L0 (35.5, 55.5) -> (-35.5, 55.5) projected
  line L1 (-35.5, 55.5) -> (-35.5, -55.5) projected
  line L2 (-35.5, 33.3333) -> (-30, 33.3333)
  line L3 (-30, 33.3333) -> (-30, 13.3333)
  line L4 (-30, 13.3333) -> (-35.5, 13.3333)
  line L5 (-35.5, 13.3333) -> (-35.5, 33.3333)
  line L6 (-21.3, 55.5) -> (-7.1, 55.5)
  line L7 (-7.1, 55.5) -> (-7.1, 50)
  line L8 (-7.1, 50) -> (-21.3, 50)
  line L9 (-21.3, 50) -> (-21.3, 55.5)
  line L10 (-94.3775, 0) -> (215.5652, 0) projected
  line L11 (0, -83.4858) -> (0, 82.8643) projected
  line L12 (-35.5, -33.3333) -> (-30, -33.3333)
  line L13 (-30, -33.3333) -> (-30, -13.3333)
  line L14 (-30, -13.3333) -> (-35.5, -13.3333)
  line L15 (-35.5, -13.3333) -> (-35.5, -33.3333)
  line L16 (21.3, 55.5) -> (7.1, 55.5)
  line L17 (7.1, 55.5) -> (7.1, 50)
  line L18 (7.1, 50) -> (21.3, 50)
  line L19 (21.3, 50) -> (21.3, 55.5)
  line L20 (35.5, 33.3333) -> (30, 33.3333)
  line L21 (30, 33.3333) -> (30, 13.3333)
  line L22 (30, 13.3333) -> (35.5, 13.3333)
  line L23 (35.5, 13.3333) -> (35.5, 33.3333)
  line L24 (30, -13.3333) -> (35.5, -13.3333)
  line L25 (35.5, -33.3333) -> (30, -33.3333)
  line L26 (35.5, -13.3333) -> (35.5, -33.3333)
  line L27 (30, -33.3333) -> (30, -13.3333)
  line L28 (-21.3, -55.5) -> (-7.1, -55.5)
  line L29 (-7.1, -55.5) -> (-7.1, -50)
  line L30 (-7.1, -50) -> (-21.3, -50)
  line L31 (-21.3, -50) -> (-21.3, -55.5)
  line L32 (7.1, -50) -> (21.3, -50)
  line L33 (21.3, -55.5) -> (7.1, -55.5)
  line L34 (21.3, -50) -> (21.3, -55.5)
  line L35 (7.1, -55.5) -> (7.1, -50)
  point P0 (0, 0)
  dimension "d38" = 5.5
  dimension "d39" = 5.5
  dimension "d40" = 22.1667
  dimension "d41" = 20
  dimension "d42" = 14.2
  dimension "d43" = 14.2
extrude "Extrusion2" cut sketch "Sketch6" against normal through all contours L19 L18 L17 L0 | L14 L13 L12 L1 | L7 L8 L9 L0 | L1 L2 L3 L4 | L23 L22 L21 L20 | L24 L26 L25 L27 | L31 L30 L29 L28 | L32 L34 L33 L35
sketch "Sketch26" plane through (0, 5.5, 0) normal (0, 1, 0) x (1, 0, 0)
  line L0 (-35.5, 55.5) -> (35.5, 55.5)
  line L1 (35.5, 55.5) -> (35.5, 61)
  line L2 (35.5, 61) -> (-35.5, 61)
  line L3 (-35.5, 61) -> (-35.5, 55.5)
  line L4 (0, 84.3) -> (0, -78.8) projected
  line L5 (-49.7, 0) -> (49.7, 0) projected
  line L6 (35.5, -55.5) -> (21.3, -55.5)
  line L7 (7.1, -55.5) -> (-7.1, -55.5)
  line L8 (-21.3, -55.5) -> (-35.5, -55.5)
  line L9 (-35.5, -55.5) -> (35.5, -55.5)
  line L10 (35.5, -55.5) -> (35.5, -61)
  line L11 (35.5, -61) -> (-35.5, -61)
  line L12 (-35.5, -61) -> (-35.5, -55.5)
  line L13 (-35.5, 61) -> (-41, 61)
  line L14 (-41, 61) -> (-41, -61)
  line L15 (-41, -61) -> (-35.5, -61)
  line L16 (-35.5, -61) -> (-35.5, 61)
  line L17 (35.5, 55.5) -> (35.5, 33.3333)
  line L18 (35.5, 13.3333) -> (35.5, -13.3333)
  line L19 (35.5, -33.3333) -> (35.5, -55.5)
  line L20 (35.5, 61) -> (35.5, 55.5)
  line L21 (35.5, -61) -> (35.5, -55.5)
  line L22 (35.5, 61) -> (41, 61)
  line L23 (41, 61) -> (41, -61)
  line L24 (41, -61) -> (35.5, -61)
  line L25 (35.5, -61) -> (35.5, 61)
  point P0 (35.5, 55.5)
  point P1 (0, 0)
  dimension "d126" = 5.5
  dimension "d127" = 5.5
extrude "Extrusion13" add sketch "Sketch26" against normal blind 5.5 contours L3 L2 L4 L0 | L16 L5 L14 L13 L3 | L4 L2 L1 L0 | L16 L12 L15 L14 L5 | L1 L22 L23 L5 L18 L25 L17 | L8 L9 L7 L4 L11 L12 | L7 L9 L6 L10 L11 L4 | L5 L23 L24 L10 L19 L25 L18
sketch "Sketch27" plane through (0, 5.5, 0) normal (0, 1, 0) x (1, 0, 0)
  line L0 (-41, 61) -> (-41, -61) projected
  line L1 (-57.4, 0) -> (57.4, 0) projected
  line L2 (0, 85.4) -> (0, -85.4) projected
  line L3 (-41, 0) -> (-35.5, 0)
  line L4 (-35.5, 0) -> (-35.5, 5)
  line L5 (-35.5, 5) -> (-41, 5)
  line L6 (-41, 5) -> (-41, 0)
  line L7 (-35.5, 0) -> (-35.5, -5)
  line L8 (-35.5, -5) -> (-41, -5)
  line L9 (-41, -5) -> (-41, 0)
  line L10 (-41, 38) -> (-35.5, 38)
  line L11 (-35.5, 38) -> (-35.5, 48)
  line L12 (-35.5, 48) -> (-41, 48)
  line L13 (-41, 48) -> (-41, 38)
  line L14 (-41, -38) -> (-35.5, -38)
  line L15 (-35.5, -38) -> (-35.5, -48)
  line L16 (-35.5, -48) -> (-41, -48)
  line L17 (-41, -48) -> (-41, -38)
  line L18 (41, 0) -> (35.5, 0)
  line L19 (35.5, 0) -> (35.5, 5)
  line L20 (35.5, 5) -> (41, 5)
  line L21 (41, 5) -> (41, 0)
  line L22 (35.5, 0) -> (35.5, -5)
  line L23 (35.5, -5) -> (41, -5)
  line L24 (41, -5) -> (41, 0)
  line L25 (41, 38) -> (35.5, 38)
  line L26 (35.5, 38) -> (35.5, 48)
  line L27 (35.5, 48) -> (41, 48)
  line L28 (41, 48) -> (41, 38)
  line L29 (35.5, -38) -> (35.5, -48)
  line L30 (35.5, -48) -> (41, -48)
  line L31 (41, -48) -> (41, -38)
  line L32 (41, -38) -> (35.5, -38)
  line L33 (35.5, -33.3333) -> (35.5, -13.3333)
  line L34 (35.5, 13.3333) -> (35.5, 33.3333)
  point P0 (0, 0)
  dimension "d132" = 5
  dimension "d133" = 10
  dimension "d149" = 38
extrude "Extrusion15" cut sketch "Sketch27" against normal through all
sketch "Sketch28" plane through (0, 5.5, 0) normal (0, 1, 0) x (1, 0, 0)
  line L0 (41, 61) -> (-41, 61) projected
  line L1 (0, 61) -> (-4, 61)
  line L2 (-4, 61) -> (-4, 55.5)
  line L3 (-4, 55.5) -> (0, 55.5)
  line L4 (0, 55.5) -> (0, 61)
  line L5 (-57.4, 0) -> (57.4, 0) projected
  line L6 (0, 85.4) -> (0, -85.4) projected
  line L7 (0, 61) -> (4, 61)
  line L8 (4, 61) -> (4, 55.5)
  line L9 (4, 55.5) -> (0, 55.5)
  line L10 (-35, 61) -> (-25, 61)
  line L11 (-25, 61) -> (-25, 55.5)
  line L12 (-25, 55.5) -> (-35, 55.5)
  line L13 (-35, 55.5) -> (-35, 61)
  line L14 (35, 61) -> (25, 61)
  line L15 (25, 61) -> (25, 55.5)
  line L16 (25, 55.5) -> (35, 55.5)
  line L17 (35, 55.5) -> (35, 61)
  line L18 (0, -61) -> (-4, -61)
  line L19 (-4, -61) -> (-4, -55.5)
  line L20 (-4, -55.5) -> (0, -55.5)
  line L21 (0, -55.5) -> (0, -61)
  line L22 (4, -55.5) -> (0, -55.5)
  line L23 (4, -61) -> (4, -55.5)
  line L24 (0, -61) -> (4, -61)
  line L25 (-35, -61) -> (-25, -61)
  line L26 (-25, -61) -> (-25, -55.5)
  line L27 (-25, -55.5) -> (-35, -55.5)
  line L28 (-35, -55.5) -> (-35, -61)
  line L29 (25, -61) -> (25, -55.5)
  line L30 (35, -61) -> (25, -61)
  line L31 (35, -55.5) -> (35, -61)
  line L32 (25, -55.5) -> (35, -55.5)
  point P0 (-21.3, 55.5)
  point P1 (0, 0)
  point P2 (-21.3, -55.5)
  dimension "d139" = 4
  dimension "d140" = 5.5
  dimension "d141" = 10
  dimension "d142" = 5.5
  dimension "d148" = 25
extrude "Extrusion17" cut sketch "Sketch28" against normal through all
sketch "Sketch29" plane through (0, 0, 0) normal (0, -1, 0) x (1, 0, 0)
  line L0 (-57.4, 0) -> (57.4, 0) projected
  line L1 (0, -85.4) -> (0, 85.4) projected
  line L2 (-10, 27.25) -> (10, 27.25)
  line L3 (10, 27.25) -> (10, 32.75)
  line L4 (10, 32.75) -> (-10, 32.75)
  line L5 (-10, 32.75) -> (-10, 27.25)
  line L6 (-10, 27.25) -> (10, 32.75) construction
  line L7 (10, 27.25) -> (-10, 32.75) construction
  line L8 (-10, -27.25) -> (10, -27.25)
  line L9 (10, -27.25) -> (10, -32.75)
  line L10 (10, -32.75) -> (-10, -32.75)
  line L11 (-10, -32.75) -> (-10, -27.25)
  line L12 (-10, -27.25) -> (10, -32.75) construction
  line L13 (10, -27.25) -> (-10, -32.75) construction
  point P0 (0, 0)
  point P1 (0, 30)
  point P2 (0, -30)
  dimension "d150" = 20
  dimension "d151" = 5.5
  dimension "d152" = 60
extrude "Extrusion18" cut sketch "Sketch29" against normal through all
equation "\"d2\" = Wt"
equation "\"d38\" = Wt"
equation "\"d39\" = Wt"
equation "\"d40\" = 0.166667 * d1 + 0.666667 * Wt"
equation "\"d41\" = -0.4 * Wt + 0.2 * d1"
equation "\"d42\" = 0.2 * d0"
equation "\"d43\" = 0.2 * d0"
equation "\"hogehoge\" = 9"
equation "\"Wt\" = 5.5"
properties part number "ceil_plate" material "Wood (Birch)"
